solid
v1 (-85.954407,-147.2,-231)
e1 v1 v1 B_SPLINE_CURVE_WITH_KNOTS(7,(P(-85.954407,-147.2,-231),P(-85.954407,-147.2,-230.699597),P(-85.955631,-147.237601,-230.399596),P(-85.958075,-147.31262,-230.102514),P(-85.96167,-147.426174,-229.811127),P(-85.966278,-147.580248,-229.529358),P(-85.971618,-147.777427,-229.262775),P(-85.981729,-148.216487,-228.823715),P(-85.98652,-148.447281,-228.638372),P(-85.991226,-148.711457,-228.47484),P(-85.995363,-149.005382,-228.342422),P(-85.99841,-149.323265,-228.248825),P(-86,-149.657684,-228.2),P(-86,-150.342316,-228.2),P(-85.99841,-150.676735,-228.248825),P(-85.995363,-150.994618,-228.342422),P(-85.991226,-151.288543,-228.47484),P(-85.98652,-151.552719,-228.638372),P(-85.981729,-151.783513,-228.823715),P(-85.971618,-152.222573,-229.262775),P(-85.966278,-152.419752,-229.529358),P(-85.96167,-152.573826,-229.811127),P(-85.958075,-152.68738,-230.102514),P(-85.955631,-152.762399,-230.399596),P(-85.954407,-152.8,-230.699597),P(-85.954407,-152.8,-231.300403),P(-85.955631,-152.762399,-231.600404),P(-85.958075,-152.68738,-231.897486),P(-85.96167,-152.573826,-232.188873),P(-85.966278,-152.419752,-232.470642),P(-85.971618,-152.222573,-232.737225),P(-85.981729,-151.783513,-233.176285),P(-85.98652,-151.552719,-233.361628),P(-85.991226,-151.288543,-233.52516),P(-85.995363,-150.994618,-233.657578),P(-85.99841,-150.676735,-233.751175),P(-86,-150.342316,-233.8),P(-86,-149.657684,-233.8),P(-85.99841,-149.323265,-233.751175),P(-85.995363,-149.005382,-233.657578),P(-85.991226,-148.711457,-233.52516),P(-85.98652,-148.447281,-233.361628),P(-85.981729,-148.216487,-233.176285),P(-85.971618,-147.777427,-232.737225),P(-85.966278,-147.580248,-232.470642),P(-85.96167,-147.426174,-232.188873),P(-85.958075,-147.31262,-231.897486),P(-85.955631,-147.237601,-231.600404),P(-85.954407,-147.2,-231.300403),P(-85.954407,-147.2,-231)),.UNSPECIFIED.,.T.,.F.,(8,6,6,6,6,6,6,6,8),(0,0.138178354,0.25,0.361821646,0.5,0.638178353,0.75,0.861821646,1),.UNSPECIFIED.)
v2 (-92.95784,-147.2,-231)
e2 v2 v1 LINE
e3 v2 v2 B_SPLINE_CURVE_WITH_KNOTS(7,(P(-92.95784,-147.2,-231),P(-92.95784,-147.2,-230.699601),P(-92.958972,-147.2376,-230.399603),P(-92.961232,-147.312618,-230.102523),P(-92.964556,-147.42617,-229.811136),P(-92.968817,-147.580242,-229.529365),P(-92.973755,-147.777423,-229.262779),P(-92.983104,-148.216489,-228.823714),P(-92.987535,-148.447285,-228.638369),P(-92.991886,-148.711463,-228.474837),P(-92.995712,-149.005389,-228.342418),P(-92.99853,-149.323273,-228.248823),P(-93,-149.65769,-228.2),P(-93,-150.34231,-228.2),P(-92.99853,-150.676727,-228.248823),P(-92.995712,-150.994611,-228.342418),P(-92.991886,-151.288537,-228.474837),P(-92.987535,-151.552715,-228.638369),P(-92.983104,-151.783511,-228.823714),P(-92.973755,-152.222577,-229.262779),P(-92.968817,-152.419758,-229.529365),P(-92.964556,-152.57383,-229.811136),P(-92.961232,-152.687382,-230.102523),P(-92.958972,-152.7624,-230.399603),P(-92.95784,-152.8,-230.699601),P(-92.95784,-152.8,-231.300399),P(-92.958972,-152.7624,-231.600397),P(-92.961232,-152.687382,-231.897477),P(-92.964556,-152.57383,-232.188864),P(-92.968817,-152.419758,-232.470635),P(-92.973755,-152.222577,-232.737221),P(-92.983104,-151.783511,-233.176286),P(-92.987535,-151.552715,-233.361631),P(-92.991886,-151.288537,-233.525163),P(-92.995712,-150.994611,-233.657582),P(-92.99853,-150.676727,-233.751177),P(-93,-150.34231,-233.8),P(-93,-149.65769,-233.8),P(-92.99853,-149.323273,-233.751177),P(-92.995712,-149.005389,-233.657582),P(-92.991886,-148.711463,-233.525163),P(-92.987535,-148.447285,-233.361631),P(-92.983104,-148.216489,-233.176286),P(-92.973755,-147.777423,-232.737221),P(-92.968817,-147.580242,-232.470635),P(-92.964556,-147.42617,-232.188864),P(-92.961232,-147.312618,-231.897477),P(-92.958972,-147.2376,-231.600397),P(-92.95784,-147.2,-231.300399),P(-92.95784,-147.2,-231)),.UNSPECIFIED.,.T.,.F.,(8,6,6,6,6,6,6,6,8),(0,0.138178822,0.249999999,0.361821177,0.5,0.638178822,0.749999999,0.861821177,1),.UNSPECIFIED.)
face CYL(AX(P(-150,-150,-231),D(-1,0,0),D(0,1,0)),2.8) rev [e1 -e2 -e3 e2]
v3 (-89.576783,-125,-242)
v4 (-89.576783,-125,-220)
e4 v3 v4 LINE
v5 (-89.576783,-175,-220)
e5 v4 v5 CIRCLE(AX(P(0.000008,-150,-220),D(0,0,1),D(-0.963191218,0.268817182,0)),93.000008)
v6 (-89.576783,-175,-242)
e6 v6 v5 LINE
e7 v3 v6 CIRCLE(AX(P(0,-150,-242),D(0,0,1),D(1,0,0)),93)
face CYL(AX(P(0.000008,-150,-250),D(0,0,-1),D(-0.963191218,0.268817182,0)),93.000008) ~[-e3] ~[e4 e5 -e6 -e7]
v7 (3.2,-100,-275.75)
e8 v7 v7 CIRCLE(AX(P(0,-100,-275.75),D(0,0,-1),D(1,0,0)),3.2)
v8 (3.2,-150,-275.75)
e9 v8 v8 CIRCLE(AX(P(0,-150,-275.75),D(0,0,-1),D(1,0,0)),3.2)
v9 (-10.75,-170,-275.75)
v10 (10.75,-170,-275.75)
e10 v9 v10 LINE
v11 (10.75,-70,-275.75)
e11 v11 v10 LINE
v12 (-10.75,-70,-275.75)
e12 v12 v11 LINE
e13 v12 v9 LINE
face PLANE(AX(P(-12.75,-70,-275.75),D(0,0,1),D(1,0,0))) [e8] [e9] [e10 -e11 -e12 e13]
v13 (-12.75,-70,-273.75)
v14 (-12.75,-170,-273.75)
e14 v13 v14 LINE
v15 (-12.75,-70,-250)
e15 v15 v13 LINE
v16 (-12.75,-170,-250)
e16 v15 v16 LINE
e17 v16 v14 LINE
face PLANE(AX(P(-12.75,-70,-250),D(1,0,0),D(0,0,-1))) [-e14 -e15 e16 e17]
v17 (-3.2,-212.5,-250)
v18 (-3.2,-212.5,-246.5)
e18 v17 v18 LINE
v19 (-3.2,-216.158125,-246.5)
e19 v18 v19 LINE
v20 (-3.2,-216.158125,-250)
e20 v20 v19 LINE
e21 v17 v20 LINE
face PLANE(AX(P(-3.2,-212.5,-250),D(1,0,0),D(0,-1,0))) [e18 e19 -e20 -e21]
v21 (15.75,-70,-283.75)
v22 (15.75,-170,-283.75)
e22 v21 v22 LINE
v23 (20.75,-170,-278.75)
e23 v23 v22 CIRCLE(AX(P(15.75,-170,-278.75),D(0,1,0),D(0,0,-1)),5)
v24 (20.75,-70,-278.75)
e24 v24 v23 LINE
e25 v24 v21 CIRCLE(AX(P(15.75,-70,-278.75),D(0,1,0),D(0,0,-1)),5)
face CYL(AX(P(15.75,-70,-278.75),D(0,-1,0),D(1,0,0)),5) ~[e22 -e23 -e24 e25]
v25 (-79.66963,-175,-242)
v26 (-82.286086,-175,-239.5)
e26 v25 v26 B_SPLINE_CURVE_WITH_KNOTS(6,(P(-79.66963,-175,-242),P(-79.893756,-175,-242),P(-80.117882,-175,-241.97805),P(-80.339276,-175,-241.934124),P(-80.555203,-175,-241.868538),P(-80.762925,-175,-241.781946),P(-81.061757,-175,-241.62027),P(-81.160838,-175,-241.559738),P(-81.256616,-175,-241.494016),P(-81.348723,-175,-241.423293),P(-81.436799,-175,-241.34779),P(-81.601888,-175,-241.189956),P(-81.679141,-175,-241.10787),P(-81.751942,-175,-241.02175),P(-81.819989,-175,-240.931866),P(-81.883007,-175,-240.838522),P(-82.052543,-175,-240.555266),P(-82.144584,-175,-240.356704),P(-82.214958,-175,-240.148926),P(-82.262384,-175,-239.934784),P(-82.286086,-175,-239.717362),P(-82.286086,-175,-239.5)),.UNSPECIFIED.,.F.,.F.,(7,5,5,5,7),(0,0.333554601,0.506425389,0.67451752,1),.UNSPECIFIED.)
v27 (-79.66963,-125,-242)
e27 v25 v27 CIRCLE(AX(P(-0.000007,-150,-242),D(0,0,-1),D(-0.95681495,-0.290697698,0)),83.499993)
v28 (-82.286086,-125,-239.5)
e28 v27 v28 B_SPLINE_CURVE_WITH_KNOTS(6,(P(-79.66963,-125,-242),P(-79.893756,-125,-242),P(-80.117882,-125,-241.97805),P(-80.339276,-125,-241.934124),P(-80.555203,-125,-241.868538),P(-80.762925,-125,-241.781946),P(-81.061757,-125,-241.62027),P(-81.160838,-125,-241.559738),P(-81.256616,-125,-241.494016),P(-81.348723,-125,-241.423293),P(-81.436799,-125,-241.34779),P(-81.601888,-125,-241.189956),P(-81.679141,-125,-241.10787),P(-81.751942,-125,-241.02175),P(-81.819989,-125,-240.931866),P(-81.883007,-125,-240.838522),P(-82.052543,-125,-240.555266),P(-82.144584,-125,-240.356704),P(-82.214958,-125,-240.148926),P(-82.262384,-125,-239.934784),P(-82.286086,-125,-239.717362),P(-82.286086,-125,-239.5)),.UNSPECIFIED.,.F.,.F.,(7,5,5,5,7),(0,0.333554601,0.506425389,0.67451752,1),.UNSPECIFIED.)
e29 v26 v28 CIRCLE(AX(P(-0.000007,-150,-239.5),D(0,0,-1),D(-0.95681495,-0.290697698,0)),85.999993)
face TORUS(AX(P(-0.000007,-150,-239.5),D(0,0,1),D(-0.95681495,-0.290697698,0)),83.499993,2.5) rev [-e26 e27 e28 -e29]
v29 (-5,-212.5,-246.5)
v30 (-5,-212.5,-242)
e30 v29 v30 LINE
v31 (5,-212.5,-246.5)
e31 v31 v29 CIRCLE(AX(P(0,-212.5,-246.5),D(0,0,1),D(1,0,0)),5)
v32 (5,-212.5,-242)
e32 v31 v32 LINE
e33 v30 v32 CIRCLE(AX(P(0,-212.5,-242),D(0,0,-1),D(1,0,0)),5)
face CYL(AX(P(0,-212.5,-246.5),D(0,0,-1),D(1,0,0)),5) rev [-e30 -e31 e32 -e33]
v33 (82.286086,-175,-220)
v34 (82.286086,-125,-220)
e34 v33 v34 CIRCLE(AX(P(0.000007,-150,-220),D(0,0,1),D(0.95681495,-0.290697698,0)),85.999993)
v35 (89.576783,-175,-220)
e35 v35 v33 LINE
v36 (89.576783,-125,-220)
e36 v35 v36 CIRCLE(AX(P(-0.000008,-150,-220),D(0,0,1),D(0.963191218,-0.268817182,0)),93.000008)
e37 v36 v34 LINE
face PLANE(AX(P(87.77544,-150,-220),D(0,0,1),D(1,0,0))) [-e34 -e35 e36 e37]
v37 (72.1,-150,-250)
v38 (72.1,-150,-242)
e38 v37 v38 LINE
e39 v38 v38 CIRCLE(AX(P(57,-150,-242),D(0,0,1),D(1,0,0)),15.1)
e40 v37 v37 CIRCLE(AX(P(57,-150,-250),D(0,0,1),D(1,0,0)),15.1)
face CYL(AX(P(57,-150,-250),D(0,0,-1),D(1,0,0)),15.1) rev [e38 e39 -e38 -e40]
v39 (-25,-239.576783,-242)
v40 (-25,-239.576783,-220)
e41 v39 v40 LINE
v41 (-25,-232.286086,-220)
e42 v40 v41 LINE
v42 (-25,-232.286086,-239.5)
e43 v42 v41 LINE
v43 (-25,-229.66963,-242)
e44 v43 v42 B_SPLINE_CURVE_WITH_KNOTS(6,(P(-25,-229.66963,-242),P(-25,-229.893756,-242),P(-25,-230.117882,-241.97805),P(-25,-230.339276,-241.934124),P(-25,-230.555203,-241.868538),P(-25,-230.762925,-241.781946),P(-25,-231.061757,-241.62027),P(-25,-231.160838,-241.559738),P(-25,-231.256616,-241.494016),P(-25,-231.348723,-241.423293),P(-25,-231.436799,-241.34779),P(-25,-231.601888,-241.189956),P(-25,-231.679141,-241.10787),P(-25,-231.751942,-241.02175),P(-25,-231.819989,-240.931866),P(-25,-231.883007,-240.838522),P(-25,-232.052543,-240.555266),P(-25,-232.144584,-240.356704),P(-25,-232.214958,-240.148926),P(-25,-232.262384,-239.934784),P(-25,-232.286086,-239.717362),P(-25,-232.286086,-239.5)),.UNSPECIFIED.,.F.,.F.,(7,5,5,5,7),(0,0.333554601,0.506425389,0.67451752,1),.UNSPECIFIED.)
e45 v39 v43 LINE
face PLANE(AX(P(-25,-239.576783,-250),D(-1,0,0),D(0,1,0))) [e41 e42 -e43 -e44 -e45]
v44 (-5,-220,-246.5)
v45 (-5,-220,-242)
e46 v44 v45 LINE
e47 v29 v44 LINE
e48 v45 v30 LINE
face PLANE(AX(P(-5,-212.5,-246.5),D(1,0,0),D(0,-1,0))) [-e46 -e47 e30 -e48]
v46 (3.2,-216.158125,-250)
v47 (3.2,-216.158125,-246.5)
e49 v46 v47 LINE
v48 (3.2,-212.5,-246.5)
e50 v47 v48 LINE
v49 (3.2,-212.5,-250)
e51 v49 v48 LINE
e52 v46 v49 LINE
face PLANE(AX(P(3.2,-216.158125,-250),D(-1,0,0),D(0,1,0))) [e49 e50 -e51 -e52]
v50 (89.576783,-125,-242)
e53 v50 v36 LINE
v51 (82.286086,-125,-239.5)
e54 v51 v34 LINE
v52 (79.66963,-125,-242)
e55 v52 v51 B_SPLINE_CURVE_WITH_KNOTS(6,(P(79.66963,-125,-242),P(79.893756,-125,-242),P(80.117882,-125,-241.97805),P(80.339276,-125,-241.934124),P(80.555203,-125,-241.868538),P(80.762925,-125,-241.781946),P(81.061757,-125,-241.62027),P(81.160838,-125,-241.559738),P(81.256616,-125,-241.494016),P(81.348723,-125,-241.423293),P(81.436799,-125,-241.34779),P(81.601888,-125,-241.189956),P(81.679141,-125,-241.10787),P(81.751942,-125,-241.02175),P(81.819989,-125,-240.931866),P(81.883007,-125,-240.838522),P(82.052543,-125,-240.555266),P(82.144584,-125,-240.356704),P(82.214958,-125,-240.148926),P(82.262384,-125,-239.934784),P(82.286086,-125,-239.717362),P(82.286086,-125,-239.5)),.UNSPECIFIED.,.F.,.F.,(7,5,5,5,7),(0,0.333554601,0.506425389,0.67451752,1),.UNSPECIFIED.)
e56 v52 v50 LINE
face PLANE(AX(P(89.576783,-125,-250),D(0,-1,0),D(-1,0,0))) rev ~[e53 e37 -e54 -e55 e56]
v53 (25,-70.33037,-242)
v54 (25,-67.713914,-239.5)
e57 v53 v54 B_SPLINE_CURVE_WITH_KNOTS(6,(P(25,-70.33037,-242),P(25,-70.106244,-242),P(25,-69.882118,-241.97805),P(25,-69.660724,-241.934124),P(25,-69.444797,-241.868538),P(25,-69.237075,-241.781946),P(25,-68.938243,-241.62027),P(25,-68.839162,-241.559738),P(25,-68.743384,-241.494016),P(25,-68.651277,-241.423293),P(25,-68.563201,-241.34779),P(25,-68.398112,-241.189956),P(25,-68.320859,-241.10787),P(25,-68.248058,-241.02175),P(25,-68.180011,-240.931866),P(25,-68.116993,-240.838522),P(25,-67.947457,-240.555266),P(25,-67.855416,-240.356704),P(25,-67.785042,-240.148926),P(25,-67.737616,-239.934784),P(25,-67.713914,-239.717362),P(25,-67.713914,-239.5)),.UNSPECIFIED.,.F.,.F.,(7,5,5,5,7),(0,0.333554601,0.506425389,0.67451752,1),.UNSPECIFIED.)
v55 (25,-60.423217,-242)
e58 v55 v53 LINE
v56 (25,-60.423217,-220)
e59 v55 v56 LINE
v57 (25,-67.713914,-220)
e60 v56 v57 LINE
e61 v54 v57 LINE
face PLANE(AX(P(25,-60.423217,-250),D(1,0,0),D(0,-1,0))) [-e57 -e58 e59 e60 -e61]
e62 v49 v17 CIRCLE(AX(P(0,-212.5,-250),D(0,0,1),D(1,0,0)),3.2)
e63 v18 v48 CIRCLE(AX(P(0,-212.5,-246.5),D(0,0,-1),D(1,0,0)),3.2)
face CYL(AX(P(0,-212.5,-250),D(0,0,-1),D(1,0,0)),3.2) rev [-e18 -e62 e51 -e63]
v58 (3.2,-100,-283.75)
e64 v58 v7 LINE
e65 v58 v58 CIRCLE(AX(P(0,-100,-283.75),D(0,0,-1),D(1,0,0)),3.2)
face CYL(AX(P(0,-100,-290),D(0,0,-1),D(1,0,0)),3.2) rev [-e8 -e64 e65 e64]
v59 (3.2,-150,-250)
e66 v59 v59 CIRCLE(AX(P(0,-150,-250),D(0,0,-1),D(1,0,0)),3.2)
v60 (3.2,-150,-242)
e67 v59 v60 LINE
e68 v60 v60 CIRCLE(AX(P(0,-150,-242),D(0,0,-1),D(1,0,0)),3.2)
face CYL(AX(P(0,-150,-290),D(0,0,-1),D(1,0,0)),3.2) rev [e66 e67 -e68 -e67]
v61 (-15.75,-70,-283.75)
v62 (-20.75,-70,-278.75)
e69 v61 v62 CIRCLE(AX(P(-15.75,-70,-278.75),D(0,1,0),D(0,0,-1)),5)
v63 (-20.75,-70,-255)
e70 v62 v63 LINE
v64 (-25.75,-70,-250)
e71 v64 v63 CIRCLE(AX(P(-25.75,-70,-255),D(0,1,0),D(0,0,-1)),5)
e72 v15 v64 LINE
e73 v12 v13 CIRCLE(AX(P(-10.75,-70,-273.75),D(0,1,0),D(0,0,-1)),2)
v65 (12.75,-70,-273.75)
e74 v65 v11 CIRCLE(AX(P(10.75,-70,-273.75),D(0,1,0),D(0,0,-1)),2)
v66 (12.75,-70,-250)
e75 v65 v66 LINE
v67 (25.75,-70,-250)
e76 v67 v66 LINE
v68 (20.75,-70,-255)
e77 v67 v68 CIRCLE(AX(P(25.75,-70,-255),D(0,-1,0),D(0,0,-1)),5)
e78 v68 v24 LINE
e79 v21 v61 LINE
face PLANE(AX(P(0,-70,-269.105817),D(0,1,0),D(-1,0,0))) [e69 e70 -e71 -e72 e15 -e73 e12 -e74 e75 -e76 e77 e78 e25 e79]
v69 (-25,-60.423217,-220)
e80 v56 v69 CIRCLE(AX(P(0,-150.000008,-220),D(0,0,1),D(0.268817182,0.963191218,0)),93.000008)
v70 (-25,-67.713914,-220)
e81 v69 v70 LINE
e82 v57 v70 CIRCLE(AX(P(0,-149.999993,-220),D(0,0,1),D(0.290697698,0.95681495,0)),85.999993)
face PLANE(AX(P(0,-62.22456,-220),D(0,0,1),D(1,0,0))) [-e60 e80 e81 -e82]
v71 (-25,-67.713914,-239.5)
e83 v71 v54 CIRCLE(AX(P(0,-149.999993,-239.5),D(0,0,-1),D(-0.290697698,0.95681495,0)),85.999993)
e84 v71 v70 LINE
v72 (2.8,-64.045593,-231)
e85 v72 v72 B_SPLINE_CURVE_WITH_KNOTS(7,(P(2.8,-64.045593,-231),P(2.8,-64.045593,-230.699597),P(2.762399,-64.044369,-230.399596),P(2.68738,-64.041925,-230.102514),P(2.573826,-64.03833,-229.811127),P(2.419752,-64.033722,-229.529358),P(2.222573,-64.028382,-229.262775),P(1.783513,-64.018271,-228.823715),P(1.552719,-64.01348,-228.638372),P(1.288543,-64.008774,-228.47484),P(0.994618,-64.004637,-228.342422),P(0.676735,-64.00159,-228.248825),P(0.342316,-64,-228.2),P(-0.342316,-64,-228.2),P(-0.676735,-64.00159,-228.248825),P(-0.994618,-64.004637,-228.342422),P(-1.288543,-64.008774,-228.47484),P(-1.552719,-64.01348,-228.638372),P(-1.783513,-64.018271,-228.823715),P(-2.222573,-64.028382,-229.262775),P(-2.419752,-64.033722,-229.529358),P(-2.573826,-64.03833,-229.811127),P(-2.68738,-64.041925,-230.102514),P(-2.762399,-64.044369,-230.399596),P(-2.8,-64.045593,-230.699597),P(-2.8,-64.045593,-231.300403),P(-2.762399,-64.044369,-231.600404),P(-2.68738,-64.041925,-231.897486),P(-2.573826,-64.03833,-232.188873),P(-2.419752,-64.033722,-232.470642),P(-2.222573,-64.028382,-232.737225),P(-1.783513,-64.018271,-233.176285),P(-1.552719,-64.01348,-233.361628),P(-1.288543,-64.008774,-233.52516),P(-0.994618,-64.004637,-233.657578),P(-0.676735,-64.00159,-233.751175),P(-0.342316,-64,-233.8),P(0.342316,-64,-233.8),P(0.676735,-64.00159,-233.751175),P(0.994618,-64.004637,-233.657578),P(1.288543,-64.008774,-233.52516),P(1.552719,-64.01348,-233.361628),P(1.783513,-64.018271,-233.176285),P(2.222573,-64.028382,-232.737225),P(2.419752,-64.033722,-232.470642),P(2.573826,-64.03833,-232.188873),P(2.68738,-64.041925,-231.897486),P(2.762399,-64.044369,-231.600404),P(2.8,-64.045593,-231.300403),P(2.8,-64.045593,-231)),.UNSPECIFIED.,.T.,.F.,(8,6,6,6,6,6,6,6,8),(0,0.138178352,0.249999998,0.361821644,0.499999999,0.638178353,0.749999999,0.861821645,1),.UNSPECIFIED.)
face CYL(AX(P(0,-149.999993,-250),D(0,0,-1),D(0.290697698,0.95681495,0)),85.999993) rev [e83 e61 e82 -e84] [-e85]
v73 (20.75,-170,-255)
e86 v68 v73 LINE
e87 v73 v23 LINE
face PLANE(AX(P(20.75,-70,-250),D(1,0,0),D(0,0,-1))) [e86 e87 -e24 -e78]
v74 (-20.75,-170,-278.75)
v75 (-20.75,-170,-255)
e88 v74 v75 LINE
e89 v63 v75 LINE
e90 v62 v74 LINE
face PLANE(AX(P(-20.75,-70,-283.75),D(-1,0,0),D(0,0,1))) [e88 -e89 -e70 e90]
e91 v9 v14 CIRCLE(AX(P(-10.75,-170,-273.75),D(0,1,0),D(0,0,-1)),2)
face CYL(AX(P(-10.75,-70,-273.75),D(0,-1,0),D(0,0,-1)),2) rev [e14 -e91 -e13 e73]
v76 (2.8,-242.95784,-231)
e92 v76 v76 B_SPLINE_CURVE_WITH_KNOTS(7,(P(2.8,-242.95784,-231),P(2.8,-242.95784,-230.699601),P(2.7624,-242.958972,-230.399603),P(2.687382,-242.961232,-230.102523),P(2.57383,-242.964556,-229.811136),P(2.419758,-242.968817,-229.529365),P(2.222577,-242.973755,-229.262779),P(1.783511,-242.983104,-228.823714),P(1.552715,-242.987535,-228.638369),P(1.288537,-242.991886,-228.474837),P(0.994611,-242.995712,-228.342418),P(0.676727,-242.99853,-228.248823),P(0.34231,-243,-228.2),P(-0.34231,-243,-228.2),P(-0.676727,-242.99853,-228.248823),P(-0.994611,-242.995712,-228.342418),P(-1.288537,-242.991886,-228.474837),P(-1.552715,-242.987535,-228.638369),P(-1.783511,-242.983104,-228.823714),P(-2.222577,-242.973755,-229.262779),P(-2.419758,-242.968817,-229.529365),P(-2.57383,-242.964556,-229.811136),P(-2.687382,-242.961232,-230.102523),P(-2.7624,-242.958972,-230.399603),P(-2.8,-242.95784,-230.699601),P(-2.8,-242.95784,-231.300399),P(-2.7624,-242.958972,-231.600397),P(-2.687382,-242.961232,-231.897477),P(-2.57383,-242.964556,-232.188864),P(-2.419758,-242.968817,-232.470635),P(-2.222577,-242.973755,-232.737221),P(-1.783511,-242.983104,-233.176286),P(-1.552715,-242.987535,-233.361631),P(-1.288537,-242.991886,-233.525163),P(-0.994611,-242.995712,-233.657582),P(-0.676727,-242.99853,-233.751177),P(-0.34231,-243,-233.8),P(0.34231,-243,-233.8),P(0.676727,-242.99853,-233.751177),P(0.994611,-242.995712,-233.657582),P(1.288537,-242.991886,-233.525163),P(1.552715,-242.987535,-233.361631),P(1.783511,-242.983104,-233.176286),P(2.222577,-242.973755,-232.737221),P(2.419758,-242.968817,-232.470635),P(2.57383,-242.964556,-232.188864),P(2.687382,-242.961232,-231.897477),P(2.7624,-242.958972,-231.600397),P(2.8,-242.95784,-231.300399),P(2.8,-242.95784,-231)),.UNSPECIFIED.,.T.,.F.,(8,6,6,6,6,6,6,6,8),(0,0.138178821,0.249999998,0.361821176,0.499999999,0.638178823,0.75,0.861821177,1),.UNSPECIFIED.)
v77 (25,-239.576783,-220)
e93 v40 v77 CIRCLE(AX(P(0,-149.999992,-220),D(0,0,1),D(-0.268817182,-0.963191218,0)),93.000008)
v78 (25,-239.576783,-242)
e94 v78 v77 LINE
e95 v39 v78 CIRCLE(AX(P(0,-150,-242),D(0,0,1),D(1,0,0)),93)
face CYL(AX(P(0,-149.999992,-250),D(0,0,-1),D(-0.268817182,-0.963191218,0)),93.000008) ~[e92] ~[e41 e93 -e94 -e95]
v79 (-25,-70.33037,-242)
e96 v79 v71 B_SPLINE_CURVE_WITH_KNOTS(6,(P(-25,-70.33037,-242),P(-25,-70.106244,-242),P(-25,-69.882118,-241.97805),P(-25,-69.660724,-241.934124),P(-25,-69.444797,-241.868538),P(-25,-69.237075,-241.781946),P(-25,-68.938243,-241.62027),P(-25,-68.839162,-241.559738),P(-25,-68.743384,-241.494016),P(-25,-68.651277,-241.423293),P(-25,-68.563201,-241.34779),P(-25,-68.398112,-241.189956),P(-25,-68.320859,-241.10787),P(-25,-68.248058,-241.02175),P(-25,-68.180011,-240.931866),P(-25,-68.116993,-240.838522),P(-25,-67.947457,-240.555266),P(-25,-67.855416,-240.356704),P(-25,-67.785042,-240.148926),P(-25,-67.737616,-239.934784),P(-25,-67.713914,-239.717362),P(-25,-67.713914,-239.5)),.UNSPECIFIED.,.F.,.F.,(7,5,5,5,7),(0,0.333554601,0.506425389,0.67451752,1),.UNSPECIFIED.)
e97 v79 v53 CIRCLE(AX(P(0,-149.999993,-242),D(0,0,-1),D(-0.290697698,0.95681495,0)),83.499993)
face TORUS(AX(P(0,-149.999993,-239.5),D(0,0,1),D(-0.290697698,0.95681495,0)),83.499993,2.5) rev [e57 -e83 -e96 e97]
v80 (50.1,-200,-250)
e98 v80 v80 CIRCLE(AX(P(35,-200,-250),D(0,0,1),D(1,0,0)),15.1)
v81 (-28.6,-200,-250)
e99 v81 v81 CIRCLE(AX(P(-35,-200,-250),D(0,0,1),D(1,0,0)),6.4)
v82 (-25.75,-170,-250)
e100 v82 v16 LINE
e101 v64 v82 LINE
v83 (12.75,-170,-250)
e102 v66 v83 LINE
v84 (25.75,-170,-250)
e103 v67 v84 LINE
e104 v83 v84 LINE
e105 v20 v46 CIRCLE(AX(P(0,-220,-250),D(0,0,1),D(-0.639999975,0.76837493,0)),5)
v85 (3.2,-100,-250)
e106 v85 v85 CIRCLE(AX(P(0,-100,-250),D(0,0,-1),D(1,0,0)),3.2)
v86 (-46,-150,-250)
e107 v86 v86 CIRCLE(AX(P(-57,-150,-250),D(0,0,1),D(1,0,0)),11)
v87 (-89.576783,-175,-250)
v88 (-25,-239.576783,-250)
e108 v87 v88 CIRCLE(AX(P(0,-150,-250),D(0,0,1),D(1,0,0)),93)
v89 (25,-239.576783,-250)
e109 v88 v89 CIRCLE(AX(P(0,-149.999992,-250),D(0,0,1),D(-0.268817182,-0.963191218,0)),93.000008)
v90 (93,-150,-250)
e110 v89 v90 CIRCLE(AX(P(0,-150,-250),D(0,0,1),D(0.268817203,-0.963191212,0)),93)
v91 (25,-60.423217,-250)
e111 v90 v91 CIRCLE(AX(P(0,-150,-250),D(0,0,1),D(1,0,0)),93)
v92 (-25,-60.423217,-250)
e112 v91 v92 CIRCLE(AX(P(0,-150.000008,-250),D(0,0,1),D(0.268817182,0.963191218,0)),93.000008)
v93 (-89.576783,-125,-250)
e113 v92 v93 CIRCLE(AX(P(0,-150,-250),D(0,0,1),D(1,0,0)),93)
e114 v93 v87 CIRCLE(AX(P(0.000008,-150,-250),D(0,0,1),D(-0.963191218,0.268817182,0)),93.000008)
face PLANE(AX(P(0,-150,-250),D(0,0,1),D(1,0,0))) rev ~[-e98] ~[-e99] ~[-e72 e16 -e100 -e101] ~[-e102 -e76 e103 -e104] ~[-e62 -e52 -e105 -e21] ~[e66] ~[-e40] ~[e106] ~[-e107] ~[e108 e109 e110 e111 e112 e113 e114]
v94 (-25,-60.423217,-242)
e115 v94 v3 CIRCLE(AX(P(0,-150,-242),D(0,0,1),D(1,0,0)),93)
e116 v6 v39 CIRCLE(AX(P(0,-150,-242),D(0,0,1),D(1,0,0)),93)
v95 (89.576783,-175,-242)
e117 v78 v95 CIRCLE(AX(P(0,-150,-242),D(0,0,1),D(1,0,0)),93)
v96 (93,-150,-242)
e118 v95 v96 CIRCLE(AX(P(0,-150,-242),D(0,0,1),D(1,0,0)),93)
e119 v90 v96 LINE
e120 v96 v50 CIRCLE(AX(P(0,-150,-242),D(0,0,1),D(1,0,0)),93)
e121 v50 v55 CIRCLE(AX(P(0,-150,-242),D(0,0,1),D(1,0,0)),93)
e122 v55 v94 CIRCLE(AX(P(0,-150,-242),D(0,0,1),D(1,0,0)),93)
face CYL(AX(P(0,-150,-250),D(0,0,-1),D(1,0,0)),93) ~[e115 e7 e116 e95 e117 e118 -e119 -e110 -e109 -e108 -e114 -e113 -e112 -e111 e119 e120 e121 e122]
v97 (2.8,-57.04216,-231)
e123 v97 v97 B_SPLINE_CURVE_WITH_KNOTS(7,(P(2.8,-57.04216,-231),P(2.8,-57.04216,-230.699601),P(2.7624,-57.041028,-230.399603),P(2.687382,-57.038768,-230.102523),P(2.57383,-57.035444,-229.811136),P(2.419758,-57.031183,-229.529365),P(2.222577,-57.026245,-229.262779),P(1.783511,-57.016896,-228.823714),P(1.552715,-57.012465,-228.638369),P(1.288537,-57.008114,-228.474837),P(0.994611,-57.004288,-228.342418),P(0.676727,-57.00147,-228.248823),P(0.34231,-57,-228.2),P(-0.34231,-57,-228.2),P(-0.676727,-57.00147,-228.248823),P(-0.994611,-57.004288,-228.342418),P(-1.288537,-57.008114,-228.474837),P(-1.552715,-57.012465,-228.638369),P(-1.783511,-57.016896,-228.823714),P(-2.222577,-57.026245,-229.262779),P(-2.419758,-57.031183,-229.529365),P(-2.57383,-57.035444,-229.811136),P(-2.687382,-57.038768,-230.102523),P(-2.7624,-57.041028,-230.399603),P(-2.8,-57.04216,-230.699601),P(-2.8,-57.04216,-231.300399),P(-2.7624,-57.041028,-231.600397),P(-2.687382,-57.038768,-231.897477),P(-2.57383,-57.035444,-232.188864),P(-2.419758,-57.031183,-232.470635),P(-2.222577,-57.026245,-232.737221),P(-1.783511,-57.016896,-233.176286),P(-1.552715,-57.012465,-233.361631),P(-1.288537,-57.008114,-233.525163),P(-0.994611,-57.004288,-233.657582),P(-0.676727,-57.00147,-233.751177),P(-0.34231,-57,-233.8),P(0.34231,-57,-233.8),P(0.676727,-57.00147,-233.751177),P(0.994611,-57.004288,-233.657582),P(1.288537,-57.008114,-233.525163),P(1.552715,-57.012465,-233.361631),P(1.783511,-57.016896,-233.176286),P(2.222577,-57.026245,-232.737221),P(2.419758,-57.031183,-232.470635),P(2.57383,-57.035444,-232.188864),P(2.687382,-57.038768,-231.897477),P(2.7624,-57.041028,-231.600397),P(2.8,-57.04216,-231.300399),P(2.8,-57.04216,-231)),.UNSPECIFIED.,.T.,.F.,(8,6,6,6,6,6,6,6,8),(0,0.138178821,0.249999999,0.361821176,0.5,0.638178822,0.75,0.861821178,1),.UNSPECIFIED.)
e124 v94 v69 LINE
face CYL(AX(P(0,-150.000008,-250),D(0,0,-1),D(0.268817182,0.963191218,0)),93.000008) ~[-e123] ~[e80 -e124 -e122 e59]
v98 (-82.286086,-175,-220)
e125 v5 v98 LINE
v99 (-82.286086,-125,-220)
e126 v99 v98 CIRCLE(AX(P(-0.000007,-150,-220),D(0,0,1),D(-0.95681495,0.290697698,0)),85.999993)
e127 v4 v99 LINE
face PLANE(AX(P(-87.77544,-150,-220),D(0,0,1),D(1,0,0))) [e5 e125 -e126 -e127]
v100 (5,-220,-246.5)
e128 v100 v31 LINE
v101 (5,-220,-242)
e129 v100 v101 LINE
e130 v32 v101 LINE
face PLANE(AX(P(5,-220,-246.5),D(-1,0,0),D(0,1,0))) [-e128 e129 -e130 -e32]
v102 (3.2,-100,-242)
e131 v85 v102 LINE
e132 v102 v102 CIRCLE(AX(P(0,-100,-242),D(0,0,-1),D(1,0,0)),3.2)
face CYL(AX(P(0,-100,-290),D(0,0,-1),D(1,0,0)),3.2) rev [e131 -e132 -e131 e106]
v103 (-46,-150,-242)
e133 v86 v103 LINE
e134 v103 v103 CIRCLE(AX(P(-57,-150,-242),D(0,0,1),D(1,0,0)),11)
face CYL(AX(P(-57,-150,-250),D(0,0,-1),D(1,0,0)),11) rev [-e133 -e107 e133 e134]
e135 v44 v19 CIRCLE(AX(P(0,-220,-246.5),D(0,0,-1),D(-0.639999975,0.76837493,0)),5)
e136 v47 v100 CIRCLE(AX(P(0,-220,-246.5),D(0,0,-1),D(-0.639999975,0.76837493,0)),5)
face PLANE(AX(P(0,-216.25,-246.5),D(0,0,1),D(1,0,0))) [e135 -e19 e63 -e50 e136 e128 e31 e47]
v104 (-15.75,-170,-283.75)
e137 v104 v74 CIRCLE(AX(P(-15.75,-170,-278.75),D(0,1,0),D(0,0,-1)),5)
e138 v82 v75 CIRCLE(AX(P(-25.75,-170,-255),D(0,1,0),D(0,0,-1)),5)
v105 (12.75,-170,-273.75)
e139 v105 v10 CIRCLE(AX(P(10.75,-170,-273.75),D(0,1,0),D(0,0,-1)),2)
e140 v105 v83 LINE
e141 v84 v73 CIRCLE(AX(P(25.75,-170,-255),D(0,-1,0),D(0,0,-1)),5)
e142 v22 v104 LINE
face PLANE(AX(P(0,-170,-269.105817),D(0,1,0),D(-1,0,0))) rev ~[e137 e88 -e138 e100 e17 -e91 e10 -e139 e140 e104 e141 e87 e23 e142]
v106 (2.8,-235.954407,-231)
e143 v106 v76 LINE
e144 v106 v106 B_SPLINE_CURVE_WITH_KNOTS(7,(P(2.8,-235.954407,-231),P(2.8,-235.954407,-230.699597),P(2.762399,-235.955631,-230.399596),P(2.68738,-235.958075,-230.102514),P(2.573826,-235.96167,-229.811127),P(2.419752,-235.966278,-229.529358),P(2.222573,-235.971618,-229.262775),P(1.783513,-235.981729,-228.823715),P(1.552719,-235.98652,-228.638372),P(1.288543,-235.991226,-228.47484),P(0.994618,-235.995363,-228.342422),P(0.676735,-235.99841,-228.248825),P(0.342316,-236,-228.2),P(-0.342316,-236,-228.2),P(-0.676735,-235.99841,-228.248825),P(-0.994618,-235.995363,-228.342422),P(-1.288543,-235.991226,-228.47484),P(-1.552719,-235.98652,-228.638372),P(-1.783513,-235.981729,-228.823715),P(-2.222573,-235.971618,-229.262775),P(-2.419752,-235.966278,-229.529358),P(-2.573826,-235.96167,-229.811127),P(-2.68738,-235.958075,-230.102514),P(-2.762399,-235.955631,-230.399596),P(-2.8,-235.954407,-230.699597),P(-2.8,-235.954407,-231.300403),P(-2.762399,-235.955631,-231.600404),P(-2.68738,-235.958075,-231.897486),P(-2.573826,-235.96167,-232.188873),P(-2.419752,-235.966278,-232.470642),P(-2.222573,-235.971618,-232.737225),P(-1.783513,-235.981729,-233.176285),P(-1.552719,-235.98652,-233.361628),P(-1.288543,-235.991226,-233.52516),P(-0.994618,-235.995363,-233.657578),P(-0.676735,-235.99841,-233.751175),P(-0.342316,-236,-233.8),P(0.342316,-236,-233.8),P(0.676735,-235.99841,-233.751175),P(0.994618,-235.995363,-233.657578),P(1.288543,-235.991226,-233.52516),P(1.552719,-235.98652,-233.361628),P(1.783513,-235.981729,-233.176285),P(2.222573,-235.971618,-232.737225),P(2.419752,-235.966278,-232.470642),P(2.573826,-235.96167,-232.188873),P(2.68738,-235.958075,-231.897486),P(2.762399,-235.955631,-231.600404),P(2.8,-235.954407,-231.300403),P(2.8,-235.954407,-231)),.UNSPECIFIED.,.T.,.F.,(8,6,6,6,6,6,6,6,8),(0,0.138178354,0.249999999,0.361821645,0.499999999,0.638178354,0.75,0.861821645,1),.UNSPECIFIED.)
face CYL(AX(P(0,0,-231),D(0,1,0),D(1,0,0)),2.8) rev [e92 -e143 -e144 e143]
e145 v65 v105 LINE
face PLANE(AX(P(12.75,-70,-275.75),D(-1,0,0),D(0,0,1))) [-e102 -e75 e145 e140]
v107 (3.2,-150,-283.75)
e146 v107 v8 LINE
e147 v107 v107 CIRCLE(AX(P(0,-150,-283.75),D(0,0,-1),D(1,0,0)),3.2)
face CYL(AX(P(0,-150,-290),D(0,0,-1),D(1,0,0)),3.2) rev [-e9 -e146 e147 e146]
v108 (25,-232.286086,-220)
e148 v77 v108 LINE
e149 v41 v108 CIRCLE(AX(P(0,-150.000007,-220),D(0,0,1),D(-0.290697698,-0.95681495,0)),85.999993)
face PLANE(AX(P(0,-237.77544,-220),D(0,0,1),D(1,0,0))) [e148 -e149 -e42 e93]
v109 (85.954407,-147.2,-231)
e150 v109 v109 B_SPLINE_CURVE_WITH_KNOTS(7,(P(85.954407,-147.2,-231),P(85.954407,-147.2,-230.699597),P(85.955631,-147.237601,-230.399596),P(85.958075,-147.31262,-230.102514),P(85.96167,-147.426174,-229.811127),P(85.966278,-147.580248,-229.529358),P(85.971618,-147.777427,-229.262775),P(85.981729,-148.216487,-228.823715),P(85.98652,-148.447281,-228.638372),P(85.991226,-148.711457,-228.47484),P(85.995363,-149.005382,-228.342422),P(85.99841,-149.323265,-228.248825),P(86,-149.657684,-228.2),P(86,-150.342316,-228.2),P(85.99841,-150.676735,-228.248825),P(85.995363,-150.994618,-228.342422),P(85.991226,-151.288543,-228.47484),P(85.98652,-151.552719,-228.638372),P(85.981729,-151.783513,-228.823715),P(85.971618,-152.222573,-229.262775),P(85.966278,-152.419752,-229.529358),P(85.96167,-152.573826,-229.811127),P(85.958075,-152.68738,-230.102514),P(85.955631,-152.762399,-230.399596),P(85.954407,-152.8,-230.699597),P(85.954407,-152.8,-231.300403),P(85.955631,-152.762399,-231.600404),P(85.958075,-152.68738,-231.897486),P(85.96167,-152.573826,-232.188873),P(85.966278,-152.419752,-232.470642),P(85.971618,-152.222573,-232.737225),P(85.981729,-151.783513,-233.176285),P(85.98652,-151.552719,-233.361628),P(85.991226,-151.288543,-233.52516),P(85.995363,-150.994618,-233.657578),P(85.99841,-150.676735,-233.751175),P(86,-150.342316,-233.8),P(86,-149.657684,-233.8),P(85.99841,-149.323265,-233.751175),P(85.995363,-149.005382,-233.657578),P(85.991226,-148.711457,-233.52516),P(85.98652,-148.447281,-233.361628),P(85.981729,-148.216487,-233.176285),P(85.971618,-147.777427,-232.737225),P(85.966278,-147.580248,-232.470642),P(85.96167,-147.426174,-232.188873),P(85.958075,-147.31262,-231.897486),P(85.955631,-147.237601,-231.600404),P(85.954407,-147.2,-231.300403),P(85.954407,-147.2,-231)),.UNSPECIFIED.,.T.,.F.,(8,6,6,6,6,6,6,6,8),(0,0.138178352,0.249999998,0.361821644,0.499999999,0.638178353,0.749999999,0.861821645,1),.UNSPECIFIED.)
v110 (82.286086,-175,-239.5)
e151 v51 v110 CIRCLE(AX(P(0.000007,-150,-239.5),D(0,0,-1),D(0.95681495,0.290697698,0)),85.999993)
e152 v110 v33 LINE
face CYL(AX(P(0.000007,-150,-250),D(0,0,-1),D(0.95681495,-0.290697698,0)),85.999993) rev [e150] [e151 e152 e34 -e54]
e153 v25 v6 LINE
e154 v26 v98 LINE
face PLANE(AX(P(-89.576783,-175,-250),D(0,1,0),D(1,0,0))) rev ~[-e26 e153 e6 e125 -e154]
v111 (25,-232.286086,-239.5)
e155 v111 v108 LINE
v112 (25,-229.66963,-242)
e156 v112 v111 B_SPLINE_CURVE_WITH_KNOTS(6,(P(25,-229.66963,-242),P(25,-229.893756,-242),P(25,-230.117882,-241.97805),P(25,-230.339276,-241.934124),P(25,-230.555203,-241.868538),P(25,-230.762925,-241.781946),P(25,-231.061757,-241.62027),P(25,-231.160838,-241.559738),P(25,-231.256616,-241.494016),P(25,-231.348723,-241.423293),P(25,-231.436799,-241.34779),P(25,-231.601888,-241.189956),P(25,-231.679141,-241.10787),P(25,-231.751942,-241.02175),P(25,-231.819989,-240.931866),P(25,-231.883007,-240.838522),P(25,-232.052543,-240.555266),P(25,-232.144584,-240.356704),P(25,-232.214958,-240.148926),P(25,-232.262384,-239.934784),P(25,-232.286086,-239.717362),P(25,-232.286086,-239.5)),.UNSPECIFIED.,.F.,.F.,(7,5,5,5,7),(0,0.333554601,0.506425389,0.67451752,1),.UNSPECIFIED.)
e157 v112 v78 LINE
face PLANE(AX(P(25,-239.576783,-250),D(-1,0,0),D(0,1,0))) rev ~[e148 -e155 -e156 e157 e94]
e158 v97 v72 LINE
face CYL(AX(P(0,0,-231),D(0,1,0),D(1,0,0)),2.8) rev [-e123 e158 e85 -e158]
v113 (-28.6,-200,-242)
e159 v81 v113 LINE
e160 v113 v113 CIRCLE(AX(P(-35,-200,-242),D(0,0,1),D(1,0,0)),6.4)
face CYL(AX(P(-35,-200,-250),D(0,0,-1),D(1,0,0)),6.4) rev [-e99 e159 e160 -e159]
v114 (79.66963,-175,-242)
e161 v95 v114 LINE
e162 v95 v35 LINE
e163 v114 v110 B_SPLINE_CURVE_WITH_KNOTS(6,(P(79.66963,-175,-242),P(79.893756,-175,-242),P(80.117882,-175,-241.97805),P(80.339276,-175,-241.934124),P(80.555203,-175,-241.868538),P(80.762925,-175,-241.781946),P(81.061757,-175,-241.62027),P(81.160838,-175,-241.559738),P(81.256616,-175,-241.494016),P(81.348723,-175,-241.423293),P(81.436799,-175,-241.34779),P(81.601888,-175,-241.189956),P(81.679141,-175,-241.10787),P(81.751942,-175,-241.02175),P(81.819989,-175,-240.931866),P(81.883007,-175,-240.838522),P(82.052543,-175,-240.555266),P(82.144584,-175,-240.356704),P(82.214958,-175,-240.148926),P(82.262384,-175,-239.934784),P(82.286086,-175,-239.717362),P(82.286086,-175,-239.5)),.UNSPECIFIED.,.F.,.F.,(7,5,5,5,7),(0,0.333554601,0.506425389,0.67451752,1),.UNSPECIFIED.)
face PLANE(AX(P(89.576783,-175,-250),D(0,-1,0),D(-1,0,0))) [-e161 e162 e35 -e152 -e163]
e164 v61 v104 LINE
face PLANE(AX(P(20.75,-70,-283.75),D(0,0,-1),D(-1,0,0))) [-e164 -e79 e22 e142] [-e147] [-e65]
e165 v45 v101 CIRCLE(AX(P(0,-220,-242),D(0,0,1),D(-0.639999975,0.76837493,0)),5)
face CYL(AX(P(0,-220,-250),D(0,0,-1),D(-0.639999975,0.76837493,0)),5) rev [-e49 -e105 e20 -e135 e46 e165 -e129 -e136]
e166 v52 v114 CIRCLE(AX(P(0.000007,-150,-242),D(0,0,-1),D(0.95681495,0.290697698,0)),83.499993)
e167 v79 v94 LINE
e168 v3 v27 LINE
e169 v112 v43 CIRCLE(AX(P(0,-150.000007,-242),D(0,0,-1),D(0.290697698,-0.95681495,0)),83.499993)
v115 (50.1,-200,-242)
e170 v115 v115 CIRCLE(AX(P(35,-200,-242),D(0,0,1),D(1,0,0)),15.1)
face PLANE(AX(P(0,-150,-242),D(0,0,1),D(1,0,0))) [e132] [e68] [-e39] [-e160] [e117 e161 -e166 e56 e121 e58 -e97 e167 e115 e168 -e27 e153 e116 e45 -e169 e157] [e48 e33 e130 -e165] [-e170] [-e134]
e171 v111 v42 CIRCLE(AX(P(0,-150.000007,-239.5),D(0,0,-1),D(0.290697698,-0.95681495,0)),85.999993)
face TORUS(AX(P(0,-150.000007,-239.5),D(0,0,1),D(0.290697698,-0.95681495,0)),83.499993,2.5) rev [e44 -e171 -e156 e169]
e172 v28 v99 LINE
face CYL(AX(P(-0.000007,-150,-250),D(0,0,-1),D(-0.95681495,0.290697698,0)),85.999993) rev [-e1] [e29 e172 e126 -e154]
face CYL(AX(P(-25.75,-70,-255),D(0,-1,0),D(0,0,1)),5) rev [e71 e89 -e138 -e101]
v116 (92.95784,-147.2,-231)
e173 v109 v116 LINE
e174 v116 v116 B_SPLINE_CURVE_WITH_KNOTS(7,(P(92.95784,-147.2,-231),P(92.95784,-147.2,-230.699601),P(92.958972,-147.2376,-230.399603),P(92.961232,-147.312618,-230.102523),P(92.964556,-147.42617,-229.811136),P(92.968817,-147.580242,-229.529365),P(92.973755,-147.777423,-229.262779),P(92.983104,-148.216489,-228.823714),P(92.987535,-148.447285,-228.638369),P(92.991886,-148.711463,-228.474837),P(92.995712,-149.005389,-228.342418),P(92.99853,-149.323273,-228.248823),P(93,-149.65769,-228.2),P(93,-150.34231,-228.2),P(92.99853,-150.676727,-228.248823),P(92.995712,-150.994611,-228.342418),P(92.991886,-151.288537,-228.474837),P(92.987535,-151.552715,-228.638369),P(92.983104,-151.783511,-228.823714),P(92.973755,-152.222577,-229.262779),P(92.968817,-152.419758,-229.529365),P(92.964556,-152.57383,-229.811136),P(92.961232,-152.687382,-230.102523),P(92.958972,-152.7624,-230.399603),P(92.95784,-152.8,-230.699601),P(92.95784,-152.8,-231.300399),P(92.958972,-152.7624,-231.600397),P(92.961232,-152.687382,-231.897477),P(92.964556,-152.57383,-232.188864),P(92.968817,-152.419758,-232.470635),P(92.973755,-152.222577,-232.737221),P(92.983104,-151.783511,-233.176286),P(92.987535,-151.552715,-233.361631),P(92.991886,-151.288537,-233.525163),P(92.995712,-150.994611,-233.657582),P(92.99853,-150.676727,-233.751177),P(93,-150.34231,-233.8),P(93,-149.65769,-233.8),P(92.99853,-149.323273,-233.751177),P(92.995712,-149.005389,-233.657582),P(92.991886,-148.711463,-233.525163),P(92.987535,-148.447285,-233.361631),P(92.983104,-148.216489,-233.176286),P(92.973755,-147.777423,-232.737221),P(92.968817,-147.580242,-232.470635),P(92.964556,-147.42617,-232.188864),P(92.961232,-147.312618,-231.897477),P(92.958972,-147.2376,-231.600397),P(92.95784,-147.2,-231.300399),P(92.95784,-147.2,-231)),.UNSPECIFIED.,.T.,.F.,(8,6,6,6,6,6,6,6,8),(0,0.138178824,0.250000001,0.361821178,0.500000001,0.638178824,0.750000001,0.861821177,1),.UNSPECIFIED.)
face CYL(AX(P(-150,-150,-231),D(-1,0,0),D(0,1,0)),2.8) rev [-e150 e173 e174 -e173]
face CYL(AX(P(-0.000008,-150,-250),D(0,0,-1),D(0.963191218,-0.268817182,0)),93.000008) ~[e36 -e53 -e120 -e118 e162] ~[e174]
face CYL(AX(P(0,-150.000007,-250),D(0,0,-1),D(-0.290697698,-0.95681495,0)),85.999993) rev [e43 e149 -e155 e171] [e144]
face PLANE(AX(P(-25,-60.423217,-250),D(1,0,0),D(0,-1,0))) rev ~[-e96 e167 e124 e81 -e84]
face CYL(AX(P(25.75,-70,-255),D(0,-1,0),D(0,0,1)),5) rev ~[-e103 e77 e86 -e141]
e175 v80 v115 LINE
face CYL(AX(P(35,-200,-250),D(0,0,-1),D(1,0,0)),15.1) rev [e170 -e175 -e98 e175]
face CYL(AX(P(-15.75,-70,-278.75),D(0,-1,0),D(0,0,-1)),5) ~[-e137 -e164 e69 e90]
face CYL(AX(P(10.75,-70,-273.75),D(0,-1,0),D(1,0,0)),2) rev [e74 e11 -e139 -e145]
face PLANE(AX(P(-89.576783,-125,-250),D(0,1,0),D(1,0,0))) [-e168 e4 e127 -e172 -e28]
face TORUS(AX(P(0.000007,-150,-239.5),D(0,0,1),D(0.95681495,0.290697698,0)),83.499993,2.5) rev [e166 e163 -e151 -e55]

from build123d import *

# Parameters (mm, degrees)
SKETCH156_R       = 3.2
EXTRUDE057_DEPTH  = 50
EXTRUDE054_DEPTH  = 10
CYLINDER179_R     = 2.8
CYLINDER179_DEPTH = 300
CYLINDER180_R     = 2.8
CYLINDER180_DEPTH = 300
EXTRUDE055_DEPTH  = 30
SKETCH152_R       = 93
SKETCH152_R_2     = 11
SKETCH152_R_3     = 15.1
SKETCH152_R_4     = 6.4
EXTRUDE053_DEPTH  = 8
EXTRUDE056_DEPTH  = 100
FILLET024_R       = 5
FILLET025_R       = 2
FILLET026_R       = 5
FILLET027_R       = 2.5


with BuildPart() as extrude057:
    # Sketch156 → Extrude057 (new body)
    with BuildSketch(Plane.XY):
        with Locations((0, -150)):
            Circle(SKETCH156_R)
        with Locations((0, -100)):
            Circle(SKETCH156_R)
    extrude(amount=EXTRUDE057_DEPTH)


with BuildPart() as extrude057_1:
    # Extrude057 placement: moved
    add(extrude057.part.moved(Location((0, 0, -290))))


with BuildPart() as miccutlevel006:
    # Sketch153 → Extrude054 (new body)
    with BuildSketch(Plane.XY):
        with BuildLine():
            ThreePointArc((-5, -220), (0, -225), (5, -220))
            Line((5, -220), (5, -212.5))
            ThreePointArc((5, -212.5), (0, -207.5), (-5, -212.5))
            Line((-5, -212.5), (-5, -220))
        make_face()
    extrude(amount=EXTRUDE054_DEPTH)


with BuildPart() as miccutlevel006_1:
    # Extrude054 placement: moved
    add(miccutlevel006.part.moved(Location((0, 0, -246.5))))


with BuildPart() as cylinder179:
    # Cylinder179 → Cylinder179 (new body)
    with BuildSketch(Plane(origin=(0, 0, 90), x_dir=(1, 0, 0), z_dir=(0, -1, 0))):
        Circle(CYLINDER179_R)
    extrude(amount=CYLINDER179_DEPTH)


with BuildPart() as m4heatsetcuts004:
    # Cylinder180 → Cylinder180 (new body)
    with BuildSketch(Plane(origin=(-150, -150, 90), x_dir=(0, 1, 0), z_dir=(1, 0, 0))):
        Circle(CYLINDER180_R)
    extrude(amount=CYLINDER180_DEPTH)

    # Fusion131: union Cylinder179
    add(cylinder179.part)


with BuildPart() as m4heatsetcuts004_1:
    # Fusion131 placement: moved
    add(m4heatsetcuts004.part.moved(Location((0, 0, -321))))


with BuildPart() as srsholdslevel006:
    # Sketch154 → Extrude055 (new body)
    with BuildSketch(Plane.XY):
        with BuildLine():
            ThreePointArc((-89.576783, -125), (-93, -150), (-89.576783, -175))
            Line((-89.576783, -175), (-82.286086, -175))
            ThreePointArc((-82.286086, -125), (-86, -150), (-82.286086, -175))
            Line((-89.576783, -125), (-82.286086, -125))
        make_face()
        with BuildLine():
            ThreePointArc((25, -60.423217), (0, -57), (-25, -60.423217))
            Line((-25, -60.423217), (-25, -67.713914))
            ThreePointArc((25, -67.713914), (0, -64), (-25, -67.713914))
            Line((25, -60.423217), (25, -67.713914))
        make_face()
        with BuildLine():
            ThreePointArc((89.576783, -175), (93, -150), (89.576783, -125))
            Line((89.576783, -125), (82.286086, -125))
            ThreePointArc((82.286086, -175), (86, -150), (82.286086, -125))
            Line((89.576783, -175), (82.286086, -175))
        make_face()
        with BuildLine():
            ThreePointArc((-25, -239.576783), (0, -243), (25, -239.576783))
            Line((25, -239.576783), (25, -232.286086))
            ThreePointArc((-25, -232.286086), (0, -236), (25, -232.286086))
            Line((-25, -239.576783), (-25, -232.286086))
        make_face()
    extrude(amount=EXTRUDE055_DEPTH)


with BuildPart() as srsholdslevel006_1:
    # Extrude055 placement: moved
    add(srsholdslevel006.part.moved(Location((0, 0, -250))))


with BuildPart() as level5s009:
    # Sketch152 → Extrude053 (new body)
    with BuildSketch(Plane.XY):
        with Locations((0, -150)):
            Circle(SKETCH152_R)
        with Locations((-57, -150)):
            Circle(SKETCH152_R_2, mode=Mode.SUBTRACT)
        with Locations((57, -150)):
            Circle(SKETCH152_R_3, mode=Mode.SUBTRACT)
        with Locations((35, -200)):
            Circle(SKETCH152_R_3, mode=Mode.SUBTRACT)
        with Locations((-35, -200)):
            Circle(SKETCH152_R_4, mode=Mode.SUBTRACT)
        with BuildLine():
            ThreePointArc((-3.2, -216.158125), (0, -225), (3.2, -216.158125))
            Line((3.2, -216.158125), (3.2, -212.5))
            ThreePointArc((3.2, -212.5), (0, -209.3), (-3.2, -212.5))
            Line((-3.2, -212.5), (-3.2, -216.158125))
        make_face(mode=Mode.SUBTRACT)
    extrude(amount=EXTRUDE053_DEPTH)


with BuildPart() as level5s009_1:
    # Extrude053 placement: moved
    add(level5s009.part.moved(Location((0, 0, -250))))

    # Fusion130: union srsHoldsLevel006
    add(srsholdslevel006_1.part)

    # Cut095: cut m4HeatSetCuts004
    add(m4heatsetcuts004_1.part, mode=Mode.SUBTRACT)

    # Cut096: cut micCutLevel006
    add(miccutlevel006_1.part, mode=Mode.SUBTRACT)


with BuildPart() as level5soriginal:
    # Sketch155 → Extrude056 (new body)
    with BuildSketch(Plane.XZ):
        Polygon((-20.75, -250), (-12.75, -250), (-12.75, -275.75), (12.75, -275.75), (12.75, -250), (20.75, -250), (20.75, -283.75), (-20.75, -283.75), align=None)
    extrude(amount=EXTRUDE056_DEPTH)


with BuildPart() as level5soriginal_1:
    # Extrude056 placement: moved
    add(level5soriginal.part.moved(Location((0, -70, 0))))

    # Fillet024
    fillet024_edges = [level5soriginal_1.edges().sort_by_distance(p)[0] for p in [
        (20.75, -120, -283.75),
        (-20.75, -120, -283.75),
    ]]
    fillet(fillet024_edges, radius=FILLET024_R)

    # Fillet025
    fillet025_edges = [level5soriginal_1.edges().sort_by_distance(p)[0] for p in [
        (12.75, -120, -275.75),
        (-12.75, -120, -275.75),
    ]]
    fillet(fillet025_edges, radius=FILLET025_R)

    # Fusion132: union level5s009
    add(level5s009_1.part)

    # Fillet026
    fillet026_edges = [level5soriginal_1.edges().sort_by_distance(p)[0] for p in [
        (-20.75, -120, -250),
        (20.75, -120, -250),
    ]]
    fillet(fillet026_edges, radius=FILLET026_R)

    # Cut097: cut Extrude057
    add(extrude057_1.part, mode=Mode.SUBTRACT)

    # Fillet027
    fillet027_edges = [level5soriginal_1.edges().sort_by_distance(p)[0] for p in [
        (86, -150, -242),
        (0, -64, -242),
        (0, -236, -242),
        (-86, -150, -242),
    ]]
    fillet(fillet027_edges, radius=FILLET027_R)


solid = level5soriginal_1.part
